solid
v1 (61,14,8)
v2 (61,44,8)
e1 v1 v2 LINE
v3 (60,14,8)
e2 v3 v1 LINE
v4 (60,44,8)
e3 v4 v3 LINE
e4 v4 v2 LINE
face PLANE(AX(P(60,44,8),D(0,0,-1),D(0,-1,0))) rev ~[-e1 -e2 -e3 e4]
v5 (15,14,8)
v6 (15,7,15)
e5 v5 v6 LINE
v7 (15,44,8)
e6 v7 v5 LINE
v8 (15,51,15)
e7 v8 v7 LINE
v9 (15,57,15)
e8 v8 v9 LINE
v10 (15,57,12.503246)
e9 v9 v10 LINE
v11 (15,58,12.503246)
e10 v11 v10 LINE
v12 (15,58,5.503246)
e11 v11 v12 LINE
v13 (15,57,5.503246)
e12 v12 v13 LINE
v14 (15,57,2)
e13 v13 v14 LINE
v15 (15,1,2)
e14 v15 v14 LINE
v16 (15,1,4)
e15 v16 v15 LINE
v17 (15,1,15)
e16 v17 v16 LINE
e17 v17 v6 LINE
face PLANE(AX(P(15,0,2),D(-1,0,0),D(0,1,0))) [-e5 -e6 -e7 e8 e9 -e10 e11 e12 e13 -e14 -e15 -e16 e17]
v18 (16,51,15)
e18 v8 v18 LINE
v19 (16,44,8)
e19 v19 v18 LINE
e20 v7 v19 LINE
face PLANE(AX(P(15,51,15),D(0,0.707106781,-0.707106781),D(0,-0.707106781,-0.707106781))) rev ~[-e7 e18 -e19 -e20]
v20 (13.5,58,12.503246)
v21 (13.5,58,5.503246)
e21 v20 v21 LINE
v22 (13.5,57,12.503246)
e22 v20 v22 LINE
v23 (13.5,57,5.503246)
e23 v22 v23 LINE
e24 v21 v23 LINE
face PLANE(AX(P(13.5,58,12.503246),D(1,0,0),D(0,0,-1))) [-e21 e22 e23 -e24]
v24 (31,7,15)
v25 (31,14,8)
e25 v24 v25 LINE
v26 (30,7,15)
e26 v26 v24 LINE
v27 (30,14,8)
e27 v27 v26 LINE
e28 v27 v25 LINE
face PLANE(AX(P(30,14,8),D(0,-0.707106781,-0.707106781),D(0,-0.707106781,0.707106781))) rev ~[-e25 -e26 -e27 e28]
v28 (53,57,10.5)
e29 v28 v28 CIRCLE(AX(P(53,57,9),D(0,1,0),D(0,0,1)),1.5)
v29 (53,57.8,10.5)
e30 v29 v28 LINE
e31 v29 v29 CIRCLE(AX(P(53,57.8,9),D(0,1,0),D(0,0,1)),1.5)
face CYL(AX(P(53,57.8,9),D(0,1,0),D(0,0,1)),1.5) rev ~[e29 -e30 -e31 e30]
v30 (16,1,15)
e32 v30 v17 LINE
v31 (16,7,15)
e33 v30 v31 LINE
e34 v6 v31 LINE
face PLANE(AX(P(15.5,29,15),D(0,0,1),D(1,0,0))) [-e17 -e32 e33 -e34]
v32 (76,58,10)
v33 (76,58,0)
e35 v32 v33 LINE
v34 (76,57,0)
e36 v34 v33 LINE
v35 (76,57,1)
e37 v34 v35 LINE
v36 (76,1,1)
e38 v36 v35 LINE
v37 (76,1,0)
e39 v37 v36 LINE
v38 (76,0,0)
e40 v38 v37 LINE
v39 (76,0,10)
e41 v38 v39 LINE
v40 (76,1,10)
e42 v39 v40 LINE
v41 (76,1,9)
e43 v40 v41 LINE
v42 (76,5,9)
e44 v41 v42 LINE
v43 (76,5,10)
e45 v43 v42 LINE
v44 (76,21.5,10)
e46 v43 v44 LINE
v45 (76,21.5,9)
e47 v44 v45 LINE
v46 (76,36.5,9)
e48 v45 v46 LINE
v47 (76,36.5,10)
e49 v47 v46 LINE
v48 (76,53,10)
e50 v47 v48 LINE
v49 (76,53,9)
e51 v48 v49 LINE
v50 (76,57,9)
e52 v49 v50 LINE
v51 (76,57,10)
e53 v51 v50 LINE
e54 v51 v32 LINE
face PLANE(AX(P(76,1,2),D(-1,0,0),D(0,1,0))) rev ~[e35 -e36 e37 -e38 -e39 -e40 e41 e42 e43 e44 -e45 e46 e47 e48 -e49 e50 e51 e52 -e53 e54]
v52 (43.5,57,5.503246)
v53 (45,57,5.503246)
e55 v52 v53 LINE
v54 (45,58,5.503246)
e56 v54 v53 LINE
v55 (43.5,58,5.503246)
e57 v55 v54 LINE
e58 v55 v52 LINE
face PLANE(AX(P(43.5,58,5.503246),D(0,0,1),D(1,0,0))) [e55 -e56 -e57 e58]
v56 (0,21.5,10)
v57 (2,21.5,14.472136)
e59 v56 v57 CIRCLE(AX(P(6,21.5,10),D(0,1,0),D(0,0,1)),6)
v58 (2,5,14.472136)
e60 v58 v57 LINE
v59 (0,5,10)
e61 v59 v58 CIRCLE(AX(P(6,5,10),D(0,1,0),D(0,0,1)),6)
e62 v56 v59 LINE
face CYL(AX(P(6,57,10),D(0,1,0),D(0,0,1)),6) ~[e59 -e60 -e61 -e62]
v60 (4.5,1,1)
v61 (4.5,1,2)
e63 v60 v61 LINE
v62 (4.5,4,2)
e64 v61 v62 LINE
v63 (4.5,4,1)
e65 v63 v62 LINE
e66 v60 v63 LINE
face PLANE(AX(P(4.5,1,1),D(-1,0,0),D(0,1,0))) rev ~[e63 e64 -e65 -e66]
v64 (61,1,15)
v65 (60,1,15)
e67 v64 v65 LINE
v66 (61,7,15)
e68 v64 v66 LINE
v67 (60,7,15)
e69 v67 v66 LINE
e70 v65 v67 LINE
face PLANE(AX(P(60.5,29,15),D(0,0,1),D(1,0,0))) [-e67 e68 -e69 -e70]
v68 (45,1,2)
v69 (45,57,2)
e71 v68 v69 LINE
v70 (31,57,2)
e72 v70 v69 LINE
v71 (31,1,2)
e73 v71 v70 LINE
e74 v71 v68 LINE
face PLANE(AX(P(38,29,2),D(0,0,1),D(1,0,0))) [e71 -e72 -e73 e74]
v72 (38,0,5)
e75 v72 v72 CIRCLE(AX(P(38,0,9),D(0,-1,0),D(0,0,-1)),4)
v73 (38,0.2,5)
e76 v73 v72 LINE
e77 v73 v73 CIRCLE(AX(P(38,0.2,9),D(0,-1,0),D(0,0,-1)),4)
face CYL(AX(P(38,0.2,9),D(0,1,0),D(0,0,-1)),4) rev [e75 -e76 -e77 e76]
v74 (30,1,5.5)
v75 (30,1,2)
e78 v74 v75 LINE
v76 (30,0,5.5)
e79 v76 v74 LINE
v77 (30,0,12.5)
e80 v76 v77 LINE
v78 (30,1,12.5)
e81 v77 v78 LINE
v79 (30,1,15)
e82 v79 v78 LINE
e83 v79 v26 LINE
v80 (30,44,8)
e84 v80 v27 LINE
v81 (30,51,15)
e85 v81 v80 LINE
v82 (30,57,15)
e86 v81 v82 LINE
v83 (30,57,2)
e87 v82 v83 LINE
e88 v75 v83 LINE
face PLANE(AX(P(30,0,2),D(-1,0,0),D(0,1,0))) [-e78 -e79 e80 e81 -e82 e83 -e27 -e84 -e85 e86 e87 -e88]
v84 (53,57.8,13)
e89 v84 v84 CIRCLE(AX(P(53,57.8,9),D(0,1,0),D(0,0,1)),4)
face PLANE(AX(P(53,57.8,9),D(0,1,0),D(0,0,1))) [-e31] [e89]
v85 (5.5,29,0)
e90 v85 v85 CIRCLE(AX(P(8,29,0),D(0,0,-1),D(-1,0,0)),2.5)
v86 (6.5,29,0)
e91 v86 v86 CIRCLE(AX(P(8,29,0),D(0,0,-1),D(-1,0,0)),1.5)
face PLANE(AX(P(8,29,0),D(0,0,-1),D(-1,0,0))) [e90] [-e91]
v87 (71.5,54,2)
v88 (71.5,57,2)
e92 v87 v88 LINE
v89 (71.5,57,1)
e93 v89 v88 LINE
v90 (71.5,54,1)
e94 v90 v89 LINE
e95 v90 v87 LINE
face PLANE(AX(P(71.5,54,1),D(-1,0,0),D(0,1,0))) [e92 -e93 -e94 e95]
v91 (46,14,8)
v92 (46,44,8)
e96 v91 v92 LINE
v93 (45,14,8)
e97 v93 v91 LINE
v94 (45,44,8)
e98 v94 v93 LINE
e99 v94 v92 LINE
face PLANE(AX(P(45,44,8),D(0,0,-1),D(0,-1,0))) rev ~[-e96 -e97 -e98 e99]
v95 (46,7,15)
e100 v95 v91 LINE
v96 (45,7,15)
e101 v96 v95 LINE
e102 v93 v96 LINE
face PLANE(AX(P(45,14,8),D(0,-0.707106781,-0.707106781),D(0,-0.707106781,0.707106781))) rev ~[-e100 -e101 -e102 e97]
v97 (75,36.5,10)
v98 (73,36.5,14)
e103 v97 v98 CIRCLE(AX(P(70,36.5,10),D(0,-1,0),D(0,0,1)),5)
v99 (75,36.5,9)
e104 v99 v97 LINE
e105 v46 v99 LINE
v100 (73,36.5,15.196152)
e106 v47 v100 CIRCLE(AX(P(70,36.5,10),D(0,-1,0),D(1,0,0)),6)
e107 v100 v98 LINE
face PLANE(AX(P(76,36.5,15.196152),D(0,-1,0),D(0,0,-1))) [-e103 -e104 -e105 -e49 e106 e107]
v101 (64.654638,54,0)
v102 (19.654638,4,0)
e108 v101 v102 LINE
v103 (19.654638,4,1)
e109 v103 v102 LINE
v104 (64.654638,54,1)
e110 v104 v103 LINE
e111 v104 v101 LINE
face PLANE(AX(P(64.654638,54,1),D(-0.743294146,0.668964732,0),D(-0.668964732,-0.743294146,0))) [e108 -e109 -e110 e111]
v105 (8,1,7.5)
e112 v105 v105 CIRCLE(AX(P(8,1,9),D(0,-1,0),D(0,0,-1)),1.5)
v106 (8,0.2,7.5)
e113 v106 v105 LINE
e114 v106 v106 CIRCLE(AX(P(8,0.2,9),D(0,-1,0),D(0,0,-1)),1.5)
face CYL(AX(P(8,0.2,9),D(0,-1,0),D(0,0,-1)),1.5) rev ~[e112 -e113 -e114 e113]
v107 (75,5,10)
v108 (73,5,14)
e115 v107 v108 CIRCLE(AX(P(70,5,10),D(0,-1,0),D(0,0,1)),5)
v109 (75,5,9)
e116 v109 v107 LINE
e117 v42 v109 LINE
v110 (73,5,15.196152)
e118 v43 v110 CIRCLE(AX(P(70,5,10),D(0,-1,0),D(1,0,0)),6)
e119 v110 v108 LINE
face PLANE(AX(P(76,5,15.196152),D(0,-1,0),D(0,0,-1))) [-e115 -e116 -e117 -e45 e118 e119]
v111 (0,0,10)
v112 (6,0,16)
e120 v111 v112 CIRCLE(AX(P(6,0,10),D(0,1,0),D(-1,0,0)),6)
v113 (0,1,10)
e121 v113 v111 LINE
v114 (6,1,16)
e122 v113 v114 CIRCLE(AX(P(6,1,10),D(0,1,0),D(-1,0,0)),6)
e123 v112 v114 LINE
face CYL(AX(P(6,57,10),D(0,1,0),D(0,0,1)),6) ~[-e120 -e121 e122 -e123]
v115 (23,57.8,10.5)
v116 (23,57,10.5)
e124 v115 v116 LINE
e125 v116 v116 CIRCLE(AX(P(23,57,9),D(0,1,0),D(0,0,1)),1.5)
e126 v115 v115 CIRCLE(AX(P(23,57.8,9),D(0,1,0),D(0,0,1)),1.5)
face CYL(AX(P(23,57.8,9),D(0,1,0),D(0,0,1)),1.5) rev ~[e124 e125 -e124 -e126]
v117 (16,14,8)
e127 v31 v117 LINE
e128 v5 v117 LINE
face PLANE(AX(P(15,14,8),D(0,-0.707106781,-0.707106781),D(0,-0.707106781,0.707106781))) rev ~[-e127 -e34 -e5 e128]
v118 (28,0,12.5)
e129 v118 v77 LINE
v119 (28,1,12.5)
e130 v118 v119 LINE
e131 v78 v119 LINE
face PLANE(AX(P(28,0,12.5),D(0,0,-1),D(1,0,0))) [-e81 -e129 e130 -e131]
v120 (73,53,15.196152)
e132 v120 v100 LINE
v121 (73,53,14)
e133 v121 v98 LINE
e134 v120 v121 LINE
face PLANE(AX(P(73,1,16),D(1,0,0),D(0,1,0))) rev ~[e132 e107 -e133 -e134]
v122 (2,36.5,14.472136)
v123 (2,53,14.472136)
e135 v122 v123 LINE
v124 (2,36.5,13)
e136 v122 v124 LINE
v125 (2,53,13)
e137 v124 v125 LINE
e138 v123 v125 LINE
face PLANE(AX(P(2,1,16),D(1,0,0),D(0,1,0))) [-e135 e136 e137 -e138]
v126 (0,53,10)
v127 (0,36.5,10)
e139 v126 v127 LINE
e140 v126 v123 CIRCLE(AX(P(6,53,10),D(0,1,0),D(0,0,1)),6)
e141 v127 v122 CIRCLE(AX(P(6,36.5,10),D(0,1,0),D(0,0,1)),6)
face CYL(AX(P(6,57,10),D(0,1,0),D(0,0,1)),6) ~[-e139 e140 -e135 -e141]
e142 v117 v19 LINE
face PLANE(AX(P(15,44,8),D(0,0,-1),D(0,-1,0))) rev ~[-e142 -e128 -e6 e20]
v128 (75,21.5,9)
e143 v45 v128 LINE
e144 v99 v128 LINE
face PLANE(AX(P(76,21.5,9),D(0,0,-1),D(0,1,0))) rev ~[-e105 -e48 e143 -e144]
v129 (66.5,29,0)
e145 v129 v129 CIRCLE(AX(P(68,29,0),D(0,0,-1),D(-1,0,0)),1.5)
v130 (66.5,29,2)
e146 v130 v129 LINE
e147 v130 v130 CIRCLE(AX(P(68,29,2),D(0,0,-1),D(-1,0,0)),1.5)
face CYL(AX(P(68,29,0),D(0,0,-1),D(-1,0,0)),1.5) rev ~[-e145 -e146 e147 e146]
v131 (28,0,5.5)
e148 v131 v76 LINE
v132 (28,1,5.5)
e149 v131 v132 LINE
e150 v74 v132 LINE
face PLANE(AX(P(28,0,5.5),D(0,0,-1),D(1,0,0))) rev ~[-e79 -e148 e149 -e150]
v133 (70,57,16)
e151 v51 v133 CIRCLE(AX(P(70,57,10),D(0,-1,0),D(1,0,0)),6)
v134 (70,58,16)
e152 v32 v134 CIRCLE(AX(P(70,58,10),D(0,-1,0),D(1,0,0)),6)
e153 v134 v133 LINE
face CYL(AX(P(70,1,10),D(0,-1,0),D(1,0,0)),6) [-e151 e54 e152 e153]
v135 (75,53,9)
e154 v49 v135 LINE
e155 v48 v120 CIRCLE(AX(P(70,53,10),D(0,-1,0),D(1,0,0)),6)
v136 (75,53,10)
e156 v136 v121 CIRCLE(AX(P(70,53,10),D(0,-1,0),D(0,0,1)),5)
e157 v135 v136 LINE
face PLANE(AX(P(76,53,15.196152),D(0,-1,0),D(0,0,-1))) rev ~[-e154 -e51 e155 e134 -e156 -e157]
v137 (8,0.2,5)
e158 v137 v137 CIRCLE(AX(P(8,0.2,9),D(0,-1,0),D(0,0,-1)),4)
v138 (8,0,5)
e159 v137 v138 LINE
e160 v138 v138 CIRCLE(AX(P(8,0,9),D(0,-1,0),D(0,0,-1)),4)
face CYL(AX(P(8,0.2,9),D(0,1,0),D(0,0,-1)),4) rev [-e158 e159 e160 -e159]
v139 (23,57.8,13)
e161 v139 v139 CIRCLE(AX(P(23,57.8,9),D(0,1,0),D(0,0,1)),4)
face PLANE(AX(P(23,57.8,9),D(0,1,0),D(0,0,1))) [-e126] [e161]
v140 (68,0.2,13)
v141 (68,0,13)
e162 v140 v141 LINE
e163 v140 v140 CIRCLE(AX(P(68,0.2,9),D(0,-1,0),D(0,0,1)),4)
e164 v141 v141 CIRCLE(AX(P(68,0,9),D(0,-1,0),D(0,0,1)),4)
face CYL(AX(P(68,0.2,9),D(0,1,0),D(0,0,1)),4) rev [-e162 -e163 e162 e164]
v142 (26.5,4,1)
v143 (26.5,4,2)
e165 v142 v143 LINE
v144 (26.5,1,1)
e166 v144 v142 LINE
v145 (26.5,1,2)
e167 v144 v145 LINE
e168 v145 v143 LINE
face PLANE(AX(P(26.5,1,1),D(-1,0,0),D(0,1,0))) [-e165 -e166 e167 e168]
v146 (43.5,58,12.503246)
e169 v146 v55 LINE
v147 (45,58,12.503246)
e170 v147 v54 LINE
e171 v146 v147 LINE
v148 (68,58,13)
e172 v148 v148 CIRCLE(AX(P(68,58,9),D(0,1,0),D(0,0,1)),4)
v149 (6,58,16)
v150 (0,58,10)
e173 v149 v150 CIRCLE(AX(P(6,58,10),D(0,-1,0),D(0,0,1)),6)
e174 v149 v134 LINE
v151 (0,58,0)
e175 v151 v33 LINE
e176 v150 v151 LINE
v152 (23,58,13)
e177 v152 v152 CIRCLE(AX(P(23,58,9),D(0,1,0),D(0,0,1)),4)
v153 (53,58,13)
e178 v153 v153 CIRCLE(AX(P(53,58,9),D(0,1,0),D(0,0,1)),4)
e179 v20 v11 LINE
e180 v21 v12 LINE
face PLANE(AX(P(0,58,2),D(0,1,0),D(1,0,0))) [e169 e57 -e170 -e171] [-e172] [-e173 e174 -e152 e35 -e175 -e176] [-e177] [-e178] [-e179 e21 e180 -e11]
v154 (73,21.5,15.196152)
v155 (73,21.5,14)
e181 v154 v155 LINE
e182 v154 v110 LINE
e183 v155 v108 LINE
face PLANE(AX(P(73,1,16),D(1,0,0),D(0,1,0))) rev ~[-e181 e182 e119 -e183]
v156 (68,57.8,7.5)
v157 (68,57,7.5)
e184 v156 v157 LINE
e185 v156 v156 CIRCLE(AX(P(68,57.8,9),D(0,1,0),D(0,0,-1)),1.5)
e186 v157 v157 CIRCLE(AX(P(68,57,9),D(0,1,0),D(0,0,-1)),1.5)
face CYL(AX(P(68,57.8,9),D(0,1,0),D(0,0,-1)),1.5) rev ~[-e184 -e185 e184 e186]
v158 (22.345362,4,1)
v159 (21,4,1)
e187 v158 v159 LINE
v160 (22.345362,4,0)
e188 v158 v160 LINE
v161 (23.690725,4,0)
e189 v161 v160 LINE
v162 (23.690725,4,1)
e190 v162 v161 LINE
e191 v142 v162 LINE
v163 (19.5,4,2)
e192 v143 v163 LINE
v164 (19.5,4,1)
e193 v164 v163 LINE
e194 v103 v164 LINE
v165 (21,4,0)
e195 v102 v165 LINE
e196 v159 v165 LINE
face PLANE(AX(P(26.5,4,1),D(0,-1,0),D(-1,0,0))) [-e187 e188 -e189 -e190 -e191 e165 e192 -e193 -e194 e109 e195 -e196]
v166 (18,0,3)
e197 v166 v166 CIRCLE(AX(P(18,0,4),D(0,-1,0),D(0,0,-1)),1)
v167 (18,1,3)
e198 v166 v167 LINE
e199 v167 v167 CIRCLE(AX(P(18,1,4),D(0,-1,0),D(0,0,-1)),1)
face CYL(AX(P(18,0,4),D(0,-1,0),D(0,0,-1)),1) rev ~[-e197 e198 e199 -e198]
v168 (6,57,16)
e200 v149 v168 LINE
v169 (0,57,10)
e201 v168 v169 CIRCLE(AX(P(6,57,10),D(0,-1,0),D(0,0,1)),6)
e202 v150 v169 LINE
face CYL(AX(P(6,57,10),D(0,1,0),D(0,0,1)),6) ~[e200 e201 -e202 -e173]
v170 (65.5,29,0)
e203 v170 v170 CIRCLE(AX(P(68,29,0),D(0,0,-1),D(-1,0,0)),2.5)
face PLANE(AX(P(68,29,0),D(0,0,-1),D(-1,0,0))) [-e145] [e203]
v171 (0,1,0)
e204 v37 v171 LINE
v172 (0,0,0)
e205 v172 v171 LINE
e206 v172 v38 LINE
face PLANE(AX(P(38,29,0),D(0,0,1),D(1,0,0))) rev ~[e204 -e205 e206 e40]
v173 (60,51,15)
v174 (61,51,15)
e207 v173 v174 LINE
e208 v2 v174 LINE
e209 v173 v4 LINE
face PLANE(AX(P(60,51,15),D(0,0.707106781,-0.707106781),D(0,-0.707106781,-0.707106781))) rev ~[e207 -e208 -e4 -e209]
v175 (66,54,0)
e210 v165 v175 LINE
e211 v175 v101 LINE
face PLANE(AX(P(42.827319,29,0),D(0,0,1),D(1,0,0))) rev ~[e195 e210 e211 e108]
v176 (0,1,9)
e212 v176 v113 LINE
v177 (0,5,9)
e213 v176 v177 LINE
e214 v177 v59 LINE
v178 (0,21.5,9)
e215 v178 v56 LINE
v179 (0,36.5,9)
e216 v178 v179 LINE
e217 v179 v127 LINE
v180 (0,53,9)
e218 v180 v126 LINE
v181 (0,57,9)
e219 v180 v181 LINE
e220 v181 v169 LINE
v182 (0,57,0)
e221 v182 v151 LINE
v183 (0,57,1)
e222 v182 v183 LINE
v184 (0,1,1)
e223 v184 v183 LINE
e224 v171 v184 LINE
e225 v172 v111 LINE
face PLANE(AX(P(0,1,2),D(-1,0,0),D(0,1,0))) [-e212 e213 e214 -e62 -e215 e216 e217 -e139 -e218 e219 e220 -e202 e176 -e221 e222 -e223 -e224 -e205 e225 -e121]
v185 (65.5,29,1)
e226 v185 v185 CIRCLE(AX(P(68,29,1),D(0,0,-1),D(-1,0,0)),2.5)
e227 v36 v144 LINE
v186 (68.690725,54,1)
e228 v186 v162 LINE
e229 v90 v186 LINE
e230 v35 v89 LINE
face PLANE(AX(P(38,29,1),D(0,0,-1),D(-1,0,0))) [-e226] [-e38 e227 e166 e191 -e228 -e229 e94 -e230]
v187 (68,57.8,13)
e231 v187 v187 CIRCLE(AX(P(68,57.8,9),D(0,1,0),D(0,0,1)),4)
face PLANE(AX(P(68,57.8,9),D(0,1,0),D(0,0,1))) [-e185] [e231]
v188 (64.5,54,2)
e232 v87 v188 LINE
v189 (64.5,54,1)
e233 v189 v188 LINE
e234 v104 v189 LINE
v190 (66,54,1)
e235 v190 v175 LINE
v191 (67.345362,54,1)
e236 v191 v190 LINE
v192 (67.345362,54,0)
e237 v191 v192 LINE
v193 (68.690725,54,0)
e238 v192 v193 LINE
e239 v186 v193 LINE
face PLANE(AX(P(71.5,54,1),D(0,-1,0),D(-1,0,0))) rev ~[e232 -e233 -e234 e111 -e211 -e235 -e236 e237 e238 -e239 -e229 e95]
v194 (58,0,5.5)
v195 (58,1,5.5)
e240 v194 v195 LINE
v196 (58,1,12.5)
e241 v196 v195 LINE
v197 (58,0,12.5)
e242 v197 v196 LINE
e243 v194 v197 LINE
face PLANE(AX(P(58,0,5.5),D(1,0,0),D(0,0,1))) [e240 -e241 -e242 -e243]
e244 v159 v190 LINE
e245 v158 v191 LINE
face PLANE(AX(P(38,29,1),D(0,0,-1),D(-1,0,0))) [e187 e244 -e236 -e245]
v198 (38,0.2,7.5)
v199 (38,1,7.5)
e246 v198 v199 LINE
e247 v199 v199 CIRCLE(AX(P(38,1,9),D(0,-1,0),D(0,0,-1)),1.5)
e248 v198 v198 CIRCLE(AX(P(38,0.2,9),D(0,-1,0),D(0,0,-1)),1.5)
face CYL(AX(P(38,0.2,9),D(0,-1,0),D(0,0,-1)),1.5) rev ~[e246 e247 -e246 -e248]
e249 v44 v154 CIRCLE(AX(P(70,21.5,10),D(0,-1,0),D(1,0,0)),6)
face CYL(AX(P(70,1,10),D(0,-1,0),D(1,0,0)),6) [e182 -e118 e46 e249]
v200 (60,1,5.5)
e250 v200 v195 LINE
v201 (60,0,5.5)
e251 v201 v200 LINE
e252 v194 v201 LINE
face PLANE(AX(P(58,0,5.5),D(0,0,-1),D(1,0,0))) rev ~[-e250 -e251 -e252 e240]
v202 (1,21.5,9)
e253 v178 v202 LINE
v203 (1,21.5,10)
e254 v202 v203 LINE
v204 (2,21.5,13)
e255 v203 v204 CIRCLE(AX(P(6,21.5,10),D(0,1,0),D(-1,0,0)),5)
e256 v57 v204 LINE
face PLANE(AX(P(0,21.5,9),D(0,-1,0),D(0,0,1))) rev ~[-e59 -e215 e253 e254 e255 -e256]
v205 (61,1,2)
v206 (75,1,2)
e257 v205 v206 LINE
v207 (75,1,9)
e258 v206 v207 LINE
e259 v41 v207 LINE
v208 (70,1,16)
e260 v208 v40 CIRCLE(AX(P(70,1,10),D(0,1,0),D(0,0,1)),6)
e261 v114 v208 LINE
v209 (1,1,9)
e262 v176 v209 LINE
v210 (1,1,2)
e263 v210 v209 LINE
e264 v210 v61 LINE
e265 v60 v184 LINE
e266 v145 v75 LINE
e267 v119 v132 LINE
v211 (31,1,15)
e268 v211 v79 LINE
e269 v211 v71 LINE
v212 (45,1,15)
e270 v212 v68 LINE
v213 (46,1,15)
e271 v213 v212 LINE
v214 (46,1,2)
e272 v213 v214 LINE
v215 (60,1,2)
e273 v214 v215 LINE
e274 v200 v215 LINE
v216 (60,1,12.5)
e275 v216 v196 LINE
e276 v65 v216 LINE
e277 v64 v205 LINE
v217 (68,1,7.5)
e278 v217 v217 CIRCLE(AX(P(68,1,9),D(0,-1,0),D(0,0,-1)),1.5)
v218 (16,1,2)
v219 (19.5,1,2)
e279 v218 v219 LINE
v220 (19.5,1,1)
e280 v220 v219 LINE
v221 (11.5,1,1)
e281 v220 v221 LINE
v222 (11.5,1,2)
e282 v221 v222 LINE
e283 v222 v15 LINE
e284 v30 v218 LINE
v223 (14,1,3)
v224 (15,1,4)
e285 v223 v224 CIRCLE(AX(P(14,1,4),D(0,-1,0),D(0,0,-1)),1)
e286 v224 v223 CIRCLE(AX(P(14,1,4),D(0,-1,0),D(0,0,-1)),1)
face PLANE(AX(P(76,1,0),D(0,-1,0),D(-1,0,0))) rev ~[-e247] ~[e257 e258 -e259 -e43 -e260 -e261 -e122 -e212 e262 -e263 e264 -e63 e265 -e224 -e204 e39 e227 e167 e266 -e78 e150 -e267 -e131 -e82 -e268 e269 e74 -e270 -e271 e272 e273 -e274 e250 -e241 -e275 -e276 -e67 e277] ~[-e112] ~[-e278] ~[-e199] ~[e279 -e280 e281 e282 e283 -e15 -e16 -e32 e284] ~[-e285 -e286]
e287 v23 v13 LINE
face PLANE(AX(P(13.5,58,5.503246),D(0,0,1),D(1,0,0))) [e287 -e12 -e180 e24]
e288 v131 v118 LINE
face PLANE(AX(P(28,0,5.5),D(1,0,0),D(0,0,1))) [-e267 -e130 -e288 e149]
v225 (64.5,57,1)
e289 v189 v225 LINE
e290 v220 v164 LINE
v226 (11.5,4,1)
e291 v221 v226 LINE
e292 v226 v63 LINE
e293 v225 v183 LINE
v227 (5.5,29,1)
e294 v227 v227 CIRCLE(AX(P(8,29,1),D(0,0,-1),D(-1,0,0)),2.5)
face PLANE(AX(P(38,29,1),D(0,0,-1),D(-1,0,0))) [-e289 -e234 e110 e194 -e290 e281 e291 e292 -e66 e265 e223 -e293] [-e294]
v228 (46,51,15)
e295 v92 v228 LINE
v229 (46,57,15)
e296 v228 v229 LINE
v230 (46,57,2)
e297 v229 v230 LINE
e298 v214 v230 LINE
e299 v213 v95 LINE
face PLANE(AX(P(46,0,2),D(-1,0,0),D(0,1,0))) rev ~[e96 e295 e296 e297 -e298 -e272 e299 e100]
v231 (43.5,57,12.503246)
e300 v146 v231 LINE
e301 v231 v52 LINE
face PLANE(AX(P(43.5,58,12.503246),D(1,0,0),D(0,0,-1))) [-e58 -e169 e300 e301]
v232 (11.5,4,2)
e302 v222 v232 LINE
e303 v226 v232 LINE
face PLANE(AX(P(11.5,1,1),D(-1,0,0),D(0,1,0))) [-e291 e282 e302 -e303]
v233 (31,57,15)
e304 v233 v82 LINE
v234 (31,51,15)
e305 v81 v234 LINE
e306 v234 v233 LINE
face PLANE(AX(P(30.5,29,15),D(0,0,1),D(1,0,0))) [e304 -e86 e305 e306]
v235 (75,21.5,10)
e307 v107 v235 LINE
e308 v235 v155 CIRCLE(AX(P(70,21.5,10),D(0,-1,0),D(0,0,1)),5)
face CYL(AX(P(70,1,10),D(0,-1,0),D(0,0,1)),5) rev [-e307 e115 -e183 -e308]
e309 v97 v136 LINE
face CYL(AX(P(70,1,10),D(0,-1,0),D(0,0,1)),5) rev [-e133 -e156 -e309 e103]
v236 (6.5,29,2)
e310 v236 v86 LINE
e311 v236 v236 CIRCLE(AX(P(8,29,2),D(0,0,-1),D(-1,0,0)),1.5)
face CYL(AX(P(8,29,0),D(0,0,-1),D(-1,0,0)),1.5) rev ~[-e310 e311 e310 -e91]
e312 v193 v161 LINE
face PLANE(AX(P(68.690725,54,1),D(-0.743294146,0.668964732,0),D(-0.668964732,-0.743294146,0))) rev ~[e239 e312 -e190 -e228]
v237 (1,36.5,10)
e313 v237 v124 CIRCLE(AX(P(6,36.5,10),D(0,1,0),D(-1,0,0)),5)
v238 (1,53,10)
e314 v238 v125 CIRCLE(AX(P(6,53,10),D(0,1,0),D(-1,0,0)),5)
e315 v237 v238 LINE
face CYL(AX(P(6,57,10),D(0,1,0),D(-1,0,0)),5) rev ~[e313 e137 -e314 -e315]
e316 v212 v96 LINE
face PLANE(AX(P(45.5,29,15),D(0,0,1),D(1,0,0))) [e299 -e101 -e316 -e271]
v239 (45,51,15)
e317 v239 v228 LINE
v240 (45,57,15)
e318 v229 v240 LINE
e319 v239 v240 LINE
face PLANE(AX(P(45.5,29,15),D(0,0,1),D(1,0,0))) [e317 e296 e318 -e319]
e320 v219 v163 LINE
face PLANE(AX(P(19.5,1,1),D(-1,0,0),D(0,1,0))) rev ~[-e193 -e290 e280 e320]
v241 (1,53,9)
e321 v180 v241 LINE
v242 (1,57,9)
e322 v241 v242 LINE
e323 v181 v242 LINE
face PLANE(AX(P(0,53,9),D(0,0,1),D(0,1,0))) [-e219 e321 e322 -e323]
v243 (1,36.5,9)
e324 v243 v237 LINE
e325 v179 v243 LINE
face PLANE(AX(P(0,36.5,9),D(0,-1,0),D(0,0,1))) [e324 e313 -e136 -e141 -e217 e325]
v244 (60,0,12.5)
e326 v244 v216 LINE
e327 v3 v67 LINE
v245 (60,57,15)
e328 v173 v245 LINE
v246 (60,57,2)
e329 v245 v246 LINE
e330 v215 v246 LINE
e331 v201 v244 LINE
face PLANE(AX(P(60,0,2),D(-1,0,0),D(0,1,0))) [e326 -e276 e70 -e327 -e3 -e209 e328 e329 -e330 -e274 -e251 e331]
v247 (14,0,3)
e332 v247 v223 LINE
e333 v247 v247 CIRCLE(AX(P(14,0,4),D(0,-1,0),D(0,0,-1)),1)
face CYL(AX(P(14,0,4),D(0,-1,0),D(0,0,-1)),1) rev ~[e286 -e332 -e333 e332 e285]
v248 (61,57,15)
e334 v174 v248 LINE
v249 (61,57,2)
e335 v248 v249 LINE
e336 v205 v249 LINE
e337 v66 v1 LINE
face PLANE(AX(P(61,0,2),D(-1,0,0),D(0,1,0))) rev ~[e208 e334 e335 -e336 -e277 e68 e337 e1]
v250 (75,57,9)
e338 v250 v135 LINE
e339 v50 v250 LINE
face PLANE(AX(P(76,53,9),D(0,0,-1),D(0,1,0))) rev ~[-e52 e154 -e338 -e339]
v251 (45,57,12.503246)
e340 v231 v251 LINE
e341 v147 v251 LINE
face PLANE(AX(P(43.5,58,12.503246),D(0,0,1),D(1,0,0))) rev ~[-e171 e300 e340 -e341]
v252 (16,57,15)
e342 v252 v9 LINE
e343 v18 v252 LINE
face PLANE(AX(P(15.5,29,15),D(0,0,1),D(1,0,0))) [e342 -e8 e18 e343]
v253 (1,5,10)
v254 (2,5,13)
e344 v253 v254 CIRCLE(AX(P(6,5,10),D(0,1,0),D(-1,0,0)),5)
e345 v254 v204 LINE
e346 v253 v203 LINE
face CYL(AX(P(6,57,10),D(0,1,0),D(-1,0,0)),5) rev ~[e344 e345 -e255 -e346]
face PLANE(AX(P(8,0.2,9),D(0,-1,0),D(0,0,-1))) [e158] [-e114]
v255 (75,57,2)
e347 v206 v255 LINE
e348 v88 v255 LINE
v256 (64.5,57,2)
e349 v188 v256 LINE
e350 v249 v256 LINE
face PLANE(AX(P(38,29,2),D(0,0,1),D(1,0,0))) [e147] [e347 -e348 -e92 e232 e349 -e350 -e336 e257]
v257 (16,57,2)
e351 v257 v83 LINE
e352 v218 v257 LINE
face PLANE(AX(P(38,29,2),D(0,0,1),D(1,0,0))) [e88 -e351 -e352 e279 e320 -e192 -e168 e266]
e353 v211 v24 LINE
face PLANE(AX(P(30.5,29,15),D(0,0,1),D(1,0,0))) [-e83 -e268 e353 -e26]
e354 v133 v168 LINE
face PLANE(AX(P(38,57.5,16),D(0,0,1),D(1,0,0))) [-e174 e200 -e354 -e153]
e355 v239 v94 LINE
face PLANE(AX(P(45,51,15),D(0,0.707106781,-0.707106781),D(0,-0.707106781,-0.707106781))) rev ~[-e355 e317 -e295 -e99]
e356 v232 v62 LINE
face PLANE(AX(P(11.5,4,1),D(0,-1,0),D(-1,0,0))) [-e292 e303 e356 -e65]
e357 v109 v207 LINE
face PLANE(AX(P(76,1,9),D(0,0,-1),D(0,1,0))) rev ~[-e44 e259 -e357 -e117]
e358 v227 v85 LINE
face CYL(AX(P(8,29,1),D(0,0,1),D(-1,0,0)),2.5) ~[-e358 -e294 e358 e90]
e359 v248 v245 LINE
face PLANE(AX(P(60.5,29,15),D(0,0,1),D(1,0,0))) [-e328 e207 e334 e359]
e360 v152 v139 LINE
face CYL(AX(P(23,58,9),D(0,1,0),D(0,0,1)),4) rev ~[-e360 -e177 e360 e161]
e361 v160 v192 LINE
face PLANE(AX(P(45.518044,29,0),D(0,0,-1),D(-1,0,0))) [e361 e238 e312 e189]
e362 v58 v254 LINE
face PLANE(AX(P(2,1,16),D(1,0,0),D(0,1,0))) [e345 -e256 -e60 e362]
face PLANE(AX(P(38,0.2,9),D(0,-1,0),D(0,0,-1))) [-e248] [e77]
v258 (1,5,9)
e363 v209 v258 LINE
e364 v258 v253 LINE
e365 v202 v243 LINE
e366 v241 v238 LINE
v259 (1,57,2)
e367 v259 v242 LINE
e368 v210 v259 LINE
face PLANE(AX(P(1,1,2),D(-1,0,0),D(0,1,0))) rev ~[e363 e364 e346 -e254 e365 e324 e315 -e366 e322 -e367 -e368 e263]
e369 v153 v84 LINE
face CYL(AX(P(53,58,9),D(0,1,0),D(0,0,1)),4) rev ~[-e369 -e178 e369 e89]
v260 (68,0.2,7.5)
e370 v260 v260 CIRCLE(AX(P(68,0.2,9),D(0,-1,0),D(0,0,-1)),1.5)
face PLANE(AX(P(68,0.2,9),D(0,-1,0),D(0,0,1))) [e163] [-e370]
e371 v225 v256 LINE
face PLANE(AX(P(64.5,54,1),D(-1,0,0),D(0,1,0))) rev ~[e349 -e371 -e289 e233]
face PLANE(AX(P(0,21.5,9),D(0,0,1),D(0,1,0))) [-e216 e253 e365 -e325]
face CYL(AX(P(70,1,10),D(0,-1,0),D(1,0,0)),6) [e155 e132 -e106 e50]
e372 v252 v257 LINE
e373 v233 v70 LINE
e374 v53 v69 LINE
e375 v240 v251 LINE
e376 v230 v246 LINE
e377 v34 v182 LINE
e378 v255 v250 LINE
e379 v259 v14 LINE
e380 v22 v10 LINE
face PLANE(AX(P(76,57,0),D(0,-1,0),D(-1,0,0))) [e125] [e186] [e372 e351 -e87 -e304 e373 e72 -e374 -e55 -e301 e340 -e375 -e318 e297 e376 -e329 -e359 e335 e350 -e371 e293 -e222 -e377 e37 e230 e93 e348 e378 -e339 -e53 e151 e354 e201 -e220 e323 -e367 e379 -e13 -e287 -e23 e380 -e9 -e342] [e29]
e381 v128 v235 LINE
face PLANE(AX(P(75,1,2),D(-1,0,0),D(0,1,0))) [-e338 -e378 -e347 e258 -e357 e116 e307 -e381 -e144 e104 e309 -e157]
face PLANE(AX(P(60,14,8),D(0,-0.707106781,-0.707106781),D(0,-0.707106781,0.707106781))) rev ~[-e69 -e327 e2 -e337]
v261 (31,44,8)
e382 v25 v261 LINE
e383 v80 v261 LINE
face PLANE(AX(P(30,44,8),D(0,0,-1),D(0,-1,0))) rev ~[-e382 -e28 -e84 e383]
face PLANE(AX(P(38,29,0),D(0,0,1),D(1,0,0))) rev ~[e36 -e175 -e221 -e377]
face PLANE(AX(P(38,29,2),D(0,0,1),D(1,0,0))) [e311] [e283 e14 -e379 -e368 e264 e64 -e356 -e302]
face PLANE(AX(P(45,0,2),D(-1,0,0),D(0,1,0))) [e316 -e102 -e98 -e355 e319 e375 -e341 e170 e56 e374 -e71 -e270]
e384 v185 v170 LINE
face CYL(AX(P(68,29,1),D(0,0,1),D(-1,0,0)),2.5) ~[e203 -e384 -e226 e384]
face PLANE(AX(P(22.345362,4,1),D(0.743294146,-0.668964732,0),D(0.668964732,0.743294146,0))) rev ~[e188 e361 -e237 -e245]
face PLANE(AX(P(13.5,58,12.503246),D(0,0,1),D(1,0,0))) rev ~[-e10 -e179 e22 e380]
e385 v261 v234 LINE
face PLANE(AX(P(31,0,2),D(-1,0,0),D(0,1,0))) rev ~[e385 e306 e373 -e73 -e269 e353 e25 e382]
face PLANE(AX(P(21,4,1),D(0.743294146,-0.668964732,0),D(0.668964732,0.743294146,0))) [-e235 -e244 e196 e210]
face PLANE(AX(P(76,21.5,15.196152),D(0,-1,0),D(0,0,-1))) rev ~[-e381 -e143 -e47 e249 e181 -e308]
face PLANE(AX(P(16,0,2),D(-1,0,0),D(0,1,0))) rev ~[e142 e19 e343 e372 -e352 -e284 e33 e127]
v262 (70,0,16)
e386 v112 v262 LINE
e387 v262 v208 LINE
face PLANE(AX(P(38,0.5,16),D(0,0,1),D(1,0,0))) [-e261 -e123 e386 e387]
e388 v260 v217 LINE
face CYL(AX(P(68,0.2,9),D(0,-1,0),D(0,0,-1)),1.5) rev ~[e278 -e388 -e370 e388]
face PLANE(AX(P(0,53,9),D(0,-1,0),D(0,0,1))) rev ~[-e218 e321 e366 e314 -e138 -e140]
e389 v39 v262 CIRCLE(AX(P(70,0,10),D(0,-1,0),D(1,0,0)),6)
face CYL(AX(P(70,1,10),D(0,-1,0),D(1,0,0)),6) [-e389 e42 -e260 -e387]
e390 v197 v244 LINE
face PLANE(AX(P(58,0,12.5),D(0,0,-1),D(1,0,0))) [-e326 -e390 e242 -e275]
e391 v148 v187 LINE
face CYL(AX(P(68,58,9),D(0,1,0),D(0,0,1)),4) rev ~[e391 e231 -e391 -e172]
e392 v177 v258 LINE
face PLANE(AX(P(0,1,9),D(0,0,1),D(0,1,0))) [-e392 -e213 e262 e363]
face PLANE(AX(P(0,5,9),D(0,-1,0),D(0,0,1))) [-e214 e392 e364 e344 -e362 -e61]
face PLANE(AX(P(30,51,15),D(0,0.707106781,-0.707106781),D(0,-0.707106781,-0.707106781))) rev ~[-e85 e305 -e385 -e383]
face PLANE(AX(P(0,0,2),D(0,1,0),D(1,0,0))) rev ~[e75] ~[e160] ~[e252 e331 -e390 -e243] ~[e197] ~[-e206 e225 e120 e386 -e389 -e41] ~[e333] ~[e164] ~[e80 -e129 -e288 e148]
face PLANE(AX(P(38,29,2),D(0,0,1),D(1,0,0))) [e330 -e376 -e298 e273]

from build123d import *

# Parameters (mm, degrees)
ESQUISSE1_W              = 76
ESQUISSE1_H              = 58
BOSS_EXTRU_1_DEPTH       = 2
ESQUISSE3_W              = 1
ESQUISSE3_H              = 58
BOSS_EXTRU_2_DEPTH       = 13
ENL_V_MAT_EXTRU_2_REACH  = 87.499
ESQUISSE5_W              = 1
ESQUISSE5_H              = 58
BOSS_EXTRU_3_DEPTH       = 13
ENL_V_MAT_EXTRU_3_REACH  = 77.531
ESQUISSE7_W              = 1
ESQUISSE7_H              = 58
BOSS_EXTRU_4_DEPTH       = 13
ENL_V_MAT_EXTRU_4_REACH  = 76.927
ESQUISSE9_W              = 1
ESQUISSE9_H              = 58
BOSS_EXTRU_5_DEPTH       = 13
ENL_V_MAT_EXTRU_5_REACH  = 86.788
ESQUISSE11_W             = 76
ESQUISSE11_H             = 1
BOSS_EXTRU_6_DEPTH       = 14
ESQUISSE12_W             = 76
ESQUISSE12_H             = 1
BOSS_EXTRU_7_DEPTH       = 14
ENL_V_MAT_EXTRU_6_REACH  = 98.933
ENL_V_MAT_EXTRU_7_REACH  = 98.933
ENL_V_MAT_EXTRU_8_REACH  = 98.933
ENL_V_MAT_EXTRU_9_REACH  = 98.933
ESQUISSE18_W             = 76
ESQUISSE18_H             = 56
ENL_V_MAT_EXTRU_10_DEPTH = 1
ESQUISSE19_W             = 1
ESQUISSE19_H             = 56
BOSS_EXTRU_8_DEPTH       = 8
ESQUISSE20_W             = 1
ESQUISSE20_H             = 56
BOSS_EXTRU_9_DEPTH       = 8
BOSS_EXTRU_10_REACH      = 98.338
BOSS_EXTRU_11_REACH      = 98.338
ESQUISSE23_W             = 4
ESQUISSE23_H             = 56
ENL_V_MAT_EXTRU_11_DEPTH = 5
ESQUISSE24_W             = 4
ESQUISSE24_H             = 56
ENL_V_MAT_EXTRU_12_DEPTH = 5
ESQUISSE25_W             = 5.472135955
ESQUISSE25_H             = 4
ESQUISSE25_H_2           = 15
ENL_V_MAT_EXTRU_13_DEPTH = 5
ESQUISSE26_W             = 6.196152423
ESQUISSE26_H             = 4
ESQUISSE26_H_2           = 15
ENL_V_MAT_EXTRU_14_DEPTH = 5
ENL_V_MAT_EXTRU_15_REACH = 98.773
ESQUISSE27_R             = 1.5
ESQUISSE28_R             = 2.5
BOSS_EXTRU_12_DEPTH      = 1
ENL_V_MAT_EXTRU_16_REACH = 98.933
ESQUISSE29_R             = 1.5
ENL_V_MAT_EXTRU_17_REACH = 98.773
ESQUISSE30_W             = 7
ESQUISSE30_H             = 3
BOSS_EXTRU_13_DEPTH      = 1
ENL_V_MAT_EXTRU_18_REACH = 98.933
ESQUISSE32_R             = 1
ESQUISSE33_R             = 4
ENL_V_MAT_EXTRU_19_DEPTH = 0.2
ENL_V_START              = -0.2
ESQUISSE34_R             = 4
ENL_V_MAT_EXTRU_20_DEPTH = 0.2
ENL_V_MAT_EXTRU_21_REACH = 98.813
ESQUISSE35_R             = 1.5
ENL_V_MAT_EXTRU_22_REACH = 98.813
ESQUISSE36_R             = 1.5
ENL_V_MAT_EXTRU_23_REACH = 98.933
ESQUISSE37_W             = 2
ESQUISSE37_H             = 7
ENL_V_MAT_EXTRU_24_REACH = 98.933
ESQUISSE38_W             = 1.5
ESQUISSE38_H             = 7


with BuildPart() as part:
    # Esquisse1 → Boss.-Extru.1 (new body)
    with BuildSketch(Plane.XY):
        with Locations((38, 29)):
            Rectangle(ESQUISSE1_W, ESQUISSE1_H)
    extrude(amount=BOSS_EXTRU_1_DEPTH)

    # Esquisse3 → Boss.-Extru.2 (add)
    with BuildSketch(Plane.XY.offset(2)):
        with Locations((15.5, 29)):
            Rectangle(ESQUISSE3_W, ESQUISSE3_H)
    extrude(amount=BOSS_EXTRU_2_DEPTH)

    # Esquisse4 → Enlèv. mat.-Extru.2 (cut, up to next)
    with BuildSketch(Plane.ZY.offset(-15), mode=Mode.PRIVATE) as enl_v_mat_extru_2_sk1:
        Polygon((15, 51), (8, 44), (8, 14), (15, 7), align=None)
    enl_v_mat_extru_2_tool1 = extrude(enl_v_mat_extru_2_sk1.sketch, amount=-ENL_V_MAT_EXTRU_2_REACH, mode=Mode.PRIVATE) & part.part
    add(enl_v_mat_extru_2_tool1.solids().sort_by_distance((15, 29, 11.720721))[0], mode=Mode.SUBTRACT)

    # Esquisse5 → Boss.-Extru.3 (add)
    with BuildSketch(Plane.XY.offset(2)):
        with Locations((30.5, 29)):
            Rectangle(ESQUISSE5_W, ESQUISSE5_H)
    extrude(amount=BOSS_EXTRU_3_DEPTH)

    # Esquisse6 → Enlèv. mat.-Extru.3 (cut, up to next)
    with BuildSketch(Plane.ZY.offset(-30), mode=Mode.PRIVATE) as enl_v_mat_extru_3_sk1:
        Polygon((15, 51), (8, 44), (8, 14), (15, 7), align=None)
    enl_v_mat_extru_3_tool1 = extrude(enl_v_mat_extru_3_sk1.sketch, amount=-ENL_V_MAT_EXTRU_3_REACH, mode=Mode.PRIVATE) & part.part
    add(enl_v_mat_extru_3_tool1.solids().sort_by_distance((30, 29, 11.720721))[0], mode=Mode.SUBTRACT)

    # Esquisse7 → Boss.-Extru.4 (add)
    with BuildSketch(Plane.XY.offset(2)):
        with Locations((45.5, 29)):
            Rectangle(ESQUISSE7_W, ESQUISSE7_H)
    extrude(amount=BOSS_EXTRU_4_DEPTH)

    # Esquisse8 → Enlèv. mat.-Extru.4 (cut, up to next)
    with BuildSketch(Plane.ZY.offset(-45), mode=Mode.PRIVATE) as enl_v_mat_extru_4_sk1:
        Polygon((15, 51), (8, 44), (8, 14), (15, 7), align=None)
    enl_v_mat_extru_4_tool1 = extrude(enl_v_mat_extru_4_sk1.sketch, amount=-ENL_V_MAT_EXTRU_4_REACH, mode=Mode.PRIVATE) & part.part
    add(enl_v_mat_extru_4_tool1.solids().sort_by_distance((45, 29, 11.720721))[0], mode=Mode.SUBTRACT)

    # Esquisse9 → Boss.-Extru.5 (add)
    with BuildSketch(Plane.XY.offset(2)):
        with Locations((60.5, 29)):
            Rectangle(ESQUISSE9_W, ESQUISSE9_H)
    extrude(amount=BOSS_EXTRU_5_DEPTH)

    # Esquisse10 → Enlèv. mat.-Extru.5 (cut, up to next)
    with BuildSketch(Plane.ZY.offset(-60), mode=Mode.PRIVATE) as enl_v_mat_extru_5_sk1:
        Polygon((15, 51), (8, 44), (8, 14), (15, 7), align=None)
    enl_v_mat_extru_5_tool1 = extrude(enl_v_mat_extru_5_sk1.sketch, amount=-ENL_V_MAT_EXTRU_5_REACH, mode=Mode.PRIVATE) & part.part
    add(enl_v_mat_extru_5_tool1.solids().sort_by_distance((60, 29, 11.720721))[0], mode=Mode.SUBTRACT)

    # Esquisse11 → Boss.-Extru.6 (add)
    with BuildSketch(Plane.XY.offset(2)):
        with Locations((38, 0.5)):
            Rectangle(ESQUISSE11_W, ESQUISSE11_H)
    extrude(amount=BOSS_EXTRU_6_DEPTH)

    # Esquisse12 → Boss.-Extru.7 (add)
    with BuildSketch(Plane.XY.offset(2)):
        with Locations((38, 57.5)):
            Rectangle(ESQUISSE12_W, ESQUISSE12_H)
    extrude(amount=BOSS_EXTRU_7_DEPTH)

    # Esquisse13 → Enlèv. mat.-Extru.6 (cut, up to next)
    with BuildSketch(Plane.XZ, mode=Mode.PRIVATE) as enl_v_mat_extru_6_sk1:
        with BuildLine():
            Line((70, 16), (76, 16))
            Line((76, 16), (76, 10))
            ThreePointArc((76, 10), (74.242640687, 14.242640687), (70, 16))
        make_face()
    enl_v_mat_extru_6_tool1 = extrude(enl_v_mat_extru_6_sk1.sketch, amount=-ENL_V_MAT_EXTRU_6_REACH, mode=Mode.PRIVATE) & part.part
    add(enl_v_mat_extru_6_tool1.solids().sort_by_distance((74.659792, 0, 14.659792))[0], mode=Mode.SUBTRACT)

    # Esquisse14 → Enlèv. mat.-Extru.7 (cut, up to next)
    with BuildSketch(Plane.XZ, mode=Mode.PRIVATE) as enl_v_mat_extru_7_sk1:
        with BuildLine():
            Line((6, 16), (0, 16))
            Line((0, 16), (0, 10))
            ThreePointArc((0, 10), (1.757359313, 14.242640687), (6, 16))
        make_face()
    enl_v_mat_extru_7_tool1 = extrude(enl_v_mat_extru_7_sk1.sketch, amount=-ENL_V_MAT_EXTRU_7_REACH, mode=Mode.PRIVATE) & part.part
    add(enl_v_mat_extru_7_tool1.solids().sort_by_distance((1.340208, 0, 14.659792))[0], mode=Mode.SUBTRACT)

    # Esquisse15 → Enlèv. mat.-Extru.8 (cut, up to next)
    with BuildSketch(Plane(origin=(0, 58, 0), x_dir=(1, 0, 0), z_dir=(0, 1, 0)), mode=Mode.PRIVATE) as enl_v_mat_extru_8_sk1:
        with BuildLine():
            Line((0, -10), (0, -16))
            Line((0, -16), (6, -16))
            ThreePointArc((6, -16), (1.757359313, -14.242640687), (0, -10))
        make_face()
    enl_v_mat_extru_8_tool1 = extrude(enl_v_mat_extru_8_sk1.sketch, amount=-ENL_V_MAT_EXTRU_8_REACH, mode=Mode.PRIVATE) & part.part
    add(enl_v_mat_extru_8_tool1.solids().sort_by_distance((1.340208, 58, 14.659792))[0], mode=Mode.SUBTRACT)

    # Esquisse17 → Enlèv. mat.-Extru.9 (cut, up to next)
    with BuildSketch(Plane(origin=(0, 58, 0), x_dir=(1, 0, 0), z_dir=(0, 1, 0)), mode=Mode.PRIVATE) as enl_v_mat_extru_9_sk1:
        with BuildLine():
            Line((70, -16), (76, -16))
            Line((76, -16), (76, -10))
            ThreePointArc((76, -10), (74.242640687, -14.242640687), (70, -16))
        make_face()
    enl_v_mat_extru_9_tool1 = extrude(enl_v_mat_extru_9_sk1.sketch, amount=-ENL_V_MAT_EXTRU_9_REACH, mode=Mode.PRIVATE) & part.part
    add(enl_v_mat_extru_9_tool1.solids().sort_by_distance((74.659792, 58, 14.659792))[0], mode=Mode.SUBTRACT)

    # Esquisse18 → Enlèv. mat.-Extru.10 (cut)
    with BuildSketch(Plane(origin=(0, 0, 0), x_dir=(-1, 0, 0), z_dir=(0, 0, -1))):
        with Locations((-38, 29)):
            Rectangle(ESQUISSE18_W, ESQUISSE18_H)
    extrude(amount=-ENL_V_MAT_EXTRU_10_DEPTH, mode=Mode.SUBTRACT)

    # Esquisse19 → Boss.-Extru.8 (add)
    with BuildSketch(Plane.XY.offset(2)):
        with Locations((75.5, 29)):
            Rectangle(ESQUISSE19_W, ESQUISSE19_H)
    extrude(amount=BOSS_EXTRU_8_DEPTH)

    # Esquisse20 → Boss.-Extru.9 (add)
    with BuildSketch(Plane.XY.offset(2)):
        with Locations((0.5, 29)):
            Rectangle(ESQUISSE20_W, ESQUISSE20_H)
    extrude(amount=BOSS_EXTRU_9_DEPTH)

    # Esquisse21 → Boss.-Extru.10 (add, up to next)
    with BuildSketch(Plane.XZ.offset(-57), mode=Mode.PRIVATE) as boss_extru_10_sk1:
        with BuildLine():
            Line((6, 15), (6, 16))
            ThreePointArc((6, 16), (1.757359313, 14.242640687), (0, 10))
            Line((0, 10), (1, 10))
            ThreePointArc((1, 10), (2.464466094, 13.535533906), (6, 15))
        make_face()
    boss_extru_10_tool1 = extrude(boss_extru_10_sk1.sketch, amount=BOSS_EXTRU_10_REACH, mode=Mode.PRIVATE) - part.part
    add(boss_extru_10_tool1.solids().sort_by_distance((0.5, 57, 10.084853))[0])

    # Esquisse22 → Boss.-Extru.11 (add, up to next)
    with BuildSketch(Plane(origin=(0, 1, 0), x_dir=(1, 0, 0), z_dir=(0, 1, 0)), mode=Mode.PRIVATE) as boss_extru_11_sk1:
        with BuildLine():
            Line((70, -16), (70, -15))
            ThreePointArc((70, -15), (73.535533906, -13.535533906), (75, -10))
            Line((75, -10), (76, -10))
            ThreePointArc((76, -10), (74.242640687, -14.242640687), (70, -16))
        make_face()
    boss_extru_11_tool1 = extrude(boss_extru_11_sk1.sketch, amount=BOSS_EXTRU_11_REACH, mode=Mode.PRIVATE) - part.part
    add(boss_extru_11_tool1.solids().sort_by_distance((74.182641, 1, 14.182641))[0])

    # Esquisse23 → Enlèv. mat.-Extru.11 (cut)
    with BuildSketch(Plane.XY.offset(16)):
        with Locations((71, 29)):
            Rectangle(ESQUISSE23_W, ESQUISSE23_H)
    extrude(amount=-ENL_V_MAT_EXTRU_11_DEPTH, mode=Mode.SUBTRACT)

    # Esquisse24 → Enlèv. mat.-Extru.12 (cut)
    with BuildSketch(Plane.XY.offset(16)):
        with Locations((4, 29)):
            Rectangle(ESQUISSE24_W, ESQUISSE24_H)
    extrude(amount=-ENL_V_MAT_EXTRU_12_DEPTH, mode=Mode.SUBTRACT)

    # Esquisse25 → Enlèv. mat.-Extru.13 (cut)
    with BuildSketch(Plane.ZY):
        with Locations((11.736067977, 55)):
            Rectangle(ESQUISSE25_W, ESQUISSE25_H)
        with Locations((11.736067977, 29)):
            Rectangle(ESQUISSE25_W, ESQUISSE25_H_2)
        with Locations((11.736067977, 3)):
            Rectangle(ESQUISSE25_W, ESQUISSE25_H)
    extrude(amount=-ENL_V_MAT_EXTRU_13_DEPTH, mode=Mode.SUBTRACT)

    # Esquisse26 → Enlèv. mat.-Extru.14 (cut)
    with BuildSketch(Plane(origin=(76, 0, 0), x_dir=(0, 0, -1), z_dir=(1, 0, 0))):
        with Locations((-12.098076212, 55)):
            Rectangle(ESQUISSE26_W, ESQUISSE26_H)
        with Locations((-12.098076212, 29)):
            Rectangle(ESQUISSE26_W, ESQUISSE26_H_2)
        with Locations((-12.098076212, 3)):
            Rectangle(ESQUISSE26_W, ESQUISSE26_H)
    extrude(amount=-ENL_V_MAT_EXTRU_14_DEPTH, mode=Mode.SUBTRACT)

    # Esquisse27 → Enlèv. mat.-Extru.15 (cut, up to next)
    with BuildSketch(Plane(origin=(0, 0, 1), x_dir=(-1, 0, 0), z_dir=(0, 0, -1)), mode=Mode.PRIVATE) as enl_v_mat_extru_15_sk1:
        with Locations((-68, 29)):
            Circle(ESQUISSE27_R)
    enl_v_mat_extru_15_tool1 = extrude(enl_v_mat_extru_15_sk1.sketch, amount=-ENL_V_MAT_EXTRU_15_REACH, mode=Mode.PRIVATE) & part.part
    # Esquisse27 → Enlèv. mat.-Extru.15 (cut, up to next)
    with BuildSketch(Plane(origin=(0, 0, 1), x_dir=(-1, 0, 0), z_dir=(0, 0, -1)), mode=Mode.PRIVATE) as enl_v_mat_extru_15_sk2:
        with Locations((-8, 29)):
            Circle(ESQUISSE27_R)
    enl_v_mat_extru_15_tool2 = extrude(enl_v_mat_extru_15_sk2.sketch, amount=-ENL_V_MAT_EXTRU_15_REACH, mode=Mode.PRIVATE) & part.part
    add(enl_v_mat_extru_15_tool1.solids().sort_by_distance((68, 29, 1))[0], mode=Mode.SUBTRACT)
    add(enl_v_mat_extru_15_tool2.solids().sort_by_distance((8, 29, 1))[0], mode=Mode.SUBTRACT)

    # Esquisse28 → Boss.-Extru.12 (add)
    with BuildSketch(Plane(origin=(0, 0, 1), x_dir=(-1, 0, 0), z_dir=(0, 0, -1))):
        with Locations((-68, 29)):
            Circle(ESQUISSE28_R)
        with Locations((-8, 29)):
            Circle(ESQUISSE28_R)
    extrude(amount=BOSS_EXTRU_12_DEPTH)

    # Esquisse29 → Enlèv. mat.-Extru.16 (cut, up to next)
    with BuildSketch(Plane(origin=(0, 0, 0), x_dir=(-1, 0, 0), z_dir=(0, 0, -1)), mode=Mode.PRIVATE) as enl_v_mat_extru_16_sk1:
        with Locations((-68, 29)):
            Circle(ESQUISSE29_R)
    enl_v_mat_extru_16_tool1 = extrude(enl_v_mat_extru_16_sk1.sketch, amount=-ENL_V_MAT_EXTRU_16_REACH, mode=Mode.PRIVATE) & part.part
    # Esquisse29 → Enlèv. mat.-Extru.16 (cut, up to next)
    with BuildSketch(Plane(origin=(0, 0, 0), x_dir=(-1, 0, 0), z_dir=(0, 0, -1)), mode=Mode.PRIVATE) as enl_v_mat_extru_16_sk2:
        with Locations((-8, 29)):
            Circle(ESQUISSE29_R)
    enl_v_mat_extru_16_tool2 = extrude(enl_v_mat_extru_16_sk2.sketch, amount=-ENL_V_MAT_EXTRU_16_REACH, mode=Mode.PRIVATE) & part.part
    add(enl_v_mat_extru_16_tool1.solids().sort_by_distance((68, 29, 0))[0], mode=Mode.SUBTRACT)
    add(enl_v_mat_extru_16_tool2.solids().sort_by_distance((8, 29, 0))[0], mode=Mode.SUBTRACT)

    # Esquisse30 → Enlèv. mat.-Extru.17 (cut, up to next)
    with BuildSketch(Plane(origin=(0, 0, 1), x_dir=(-1, 0, 0), z_dir=(0, 0, -1)), mode=Mode.PRIVATE) as enl_v_mat_extru_17_sk1:
        with Locations((-68, 55.5)):
            Rectangle(ESQUISSE30_W, ESQUISSE30_H)
    enl_v_mat_extru_17_tool1 = extrude(enl_v_mat_extru_17_sk1.sketch, amount=-ENL_V_MAT_EXTRU_17_REACH, mode=Mode.PRIVATE) & part.part
    # Esquisse30 → Enlèv. mat.-Extru.17 (cut, up to next)
    with BuildSketch(Plane(origin=(0, 0, 1), x_dir=(-1, 0, 0), z_dir=(0, 0, -1)), mode=Mode.PRIVATE) as enl_v_mat_extru_17_sk2:
        with Locations((-8, 2.5)):
            Rectangle(ESQUISSE30_W, ESQUISSE30_H)
    enl_v_mat_extru_17_tool2 = extrude(enl_v_mat_extru_17_sk2.sketch, amount=-ENL_V_MAT_EXTRU_17_REACH, mode=Mode.PRIVATE) & part.part
    # Esquisse30 → Enlèv. mat.-Extru.17 (cut, up to next)
    with BuildSketch(Plane(origin=(0, 0, 1), x_dir=(-1, 0, 0), z_dir=(0, 0, -1)), mode=Mode.PRIVATE) as enl_v_mat_extru_17_sk3:
        with Locations((-23, 2.5)):
            Rectangle(ESQUISSE30_W, ESQUISSE30_H)
    enl_v_mat_extru_17_tool3 = extrude(enl_v_mat_extru_17_sk3.sketch, amount=-ENL_V_MAT_EXTRU_17_REACH, mode=Mode.PRIVATE) & part.part
    add(enl_v_mat_extru_17_tool1.solids().sort_by_distance((68, 55.5, 1))[0], mode=Mode.SUBTRACT)
    add(enl_v_mat_extru_17_tool2.solids().sort_by_distance((8, 2.5, 1))[0], mode=Mode.SUBTRACT)
    add(enl_v_mat_extru_17_tool3.solids().sort_by_distance((23, 2.5, 1))[0], mode=Mode.SUBTRACT)

    # Esquisse31 → Boss.-Extru.13 (add)
    with BuildSketch(Plane(origin=(0, 0, 1), x_dir=(-1, 0, 0), z_dir=(0, 0, -1))):
        Polygon((-21, 4), (-66, 54), (-64.654637595, 54), (-19.654637595, 4), align=None)
        Polygon((-22.345362405, 4), (-67.345362405, 54), (-68.690724809, 54), (-23.690724809, 4), align=None)
    extrude(amount=BOSS_EXTRU_13_DEPTH)

    # Esquisse32 → Enlèv. mat.-Extru.18 (cut, up to next)
    with BuildSketch(Plane.XZ, mode=Mode.PRIVATE) as enl_v_mat_extru_18_sk1:
        with Locations(Location((14, 4, 0), (0, 0, 270))):
            Circle(ESQUISSE32_R)
    enl_v_mat_extru_18_tool1 = extrude(enl_v_mat_extru_18_sk1.sketch, amount=-ENL_V_MAT_EXTRU_18_REACH, mode=Mode.PRIVATE) & part.part
    # Esquisse32 → Enlèv. mat.-Extru.18 (cut, up to next)
    with BuildSketch(Plane.XZ, mode=Mode.PRIVATE) as enl_v_mat_extru_18_sk2:
        with Locations(Location((18, 4, 0), (0, 0, 270))):
            Circle(ESQUISSE32_R)
    enl_v_mat_extru_18_tool2 = extrude(enl_v_mat_extru_18_sk2.sketch, amount=-ENL_V_MAT_EXTRU_18_REACH, mode=Mode.PRIVATE) & part.part
    add(enl_v_mat_extru_18_tool1.solids().sort_by_distance((14, 0, 4))[0], mode=Mode.SUBTRACT)
    add(enl_v_mat_extru_18_tool2.solids().sort_by_distance((18, 0, 4))[0], mode=Mode.SUBTRACT)

    # Esquisse33 → Enlèv. mat.-Extru.19 (cut)
    with BuildSketch(Plane(origin=(0, 58, 0), x_dir=(1, 0, 0), z_dir=(0, 1, 0))):
        with Locations(Location((68, -9, 0), (0, 0, 270))):
            Circle(ESQUISSE33_R)
        with Locations(Location((53, -9, 0), (0, 0, 270))):
            Circle(ESQUISSE33_R)
        with Locations(Location((23, -9, 0), (0, 0, 270))):
            Circle(ESQUISSE33_R)
    extrude(amount=-ENL_V_MAT_EXTRU_19_DEPTH, mode=Mode.SUBTRACT)

    # Esquisse34 → Enlèv. mat.-Extru.20 (cut)
    with BuildSketch(Plane.XZ.offset(ENL_V_START)):
        with Locations(Location((8, 9, 0), (0, 0, 270))):
            Circle(ESQUISSE34_R)
        with Locations(Location((38, 9, 0), (0, 0, 270))):
            Circle(ESQUISSE34_R)
        with Locations(Location((68, 9, 0), (0, 0, 90))):
            Circle(ESQUISSE34_R)
    extrude(amount=ENL_V_MAT_EXTRU_20_DEPTH, mode=Mode.SUBTRACT)

    # Esquisse35 → Enlèv. mat.-Extru.21 (cut, up to next)
    with BuildSketch(Plane.XZ.offset(-0.2), mode=Mode.PRIVATE) as enl_v_mat_extru_21_sk1:
        with Locations(Location((38, 9, 0), (0, 0, 270))):
            Circle(ESQUISSE35_R)
    enl_v_mat_extru_21_tool1 = extrude(enl_v_mat_extru_21_sk1.sketch, amount=-ENL_V_MAT_EXTRU_21_REACH, mode=Mode.PRIVATE) & part.part
    # Esquisse35 → Enlèv. mat.-Extru.21 (cut, up to next)
    with BuildSketch(Plane.XZ.offset(-0.2), mode=Mode.PRIVATE) as enl_v_mat_extru_21_sk2:
        with Locations(Location((68, 9, 0), (0, 0, 270))):
            Circle(ESQUISSE35_R)
    enl_v_mat_extru_21_tool2 = extrude(enl_v_mat_extru_21_sk2.sketch, amount=-ENL_V_MAT_EXTRU_21_REACH, mode=Mode.PRIVATE) & part.part
    # Esquisse35 → Enlèv. mat.-Extru.21 (cut, up to next)
    with BuildSketch(Plane.XZ.offset(-0.2), mode=Mode.PRIVATE) as enl_v_mat_extru_21_sk3:
        with Locations(Location((8, 9, 0), (0, 0, 270))):
            Circle(ESQUISSE35_R)
    enl_v_mat_extru_21_tool3 = extrude(enl_v_mat_extru_21_sk3.sketch, amount=-ENL_V_MAT_EXTRU_21_REACH, mode=Mode.PRIVATE) & part.part
    add(enl_v_mat_extru_21_tool1.solids().sort_by_distance((38, 0.2, 9))[0], mode=Mode.SUBTRACT)
    add(enl_v_mat_extru_21_tool2.solids().sort_by_distance((68, 0.2, 9))[0], mode=Mode.SUBTRACT)
    add(enl_v_mat_extru_21_tool3.solids().sort_by_distance((8, 0.2, 9))[0], mode=Mode.SUBTRACT)

    # Esquisse36 → Enlèv. mat.-Extru.22 (cut, up to next)
    with BuildSketch(Plane(origin=(0, 57.8, 0), x_dir=(1, 0, 0), z_dir=(0, 1, 0)), mode=Mode.PRIVATE) as enl_v_mat_extru_22_sk1:
        with Locations(Location((68, -9, 0), (0, 0, 90))):
            Circle(ESQUISSE36_R)
    enl_v_mat_extru_22_tool1 = extrude(enl_v_mat_extru_22_sk1.sketch, amount=-ENL_V_MAT_EXTRU_22_REACH, mode=Mode.PRIVATE) & part.part
    # Esquisse36 → Enlèv. mat.-Extru.22 (cut, up to next)
    with BuildSketch(Plane(origin=(0, 57.8, 0), x_dir=(1, 0, 0), z_dir=(0, 1, 0)), mode=Mode.PRIVATE) as enl_v_mat_extru_22_sk2:
        with Locations(Location((53, -9, 0), (0, 0, 270))):
            Circle(ESQUISSE36_R)
    enl_v_mat_extru_22_tool2 = extrude(enl_v_mat_extru_22_sk2.sketch, amount=-ENL_V_MAT_EXTRU_22_REACH, mode=Mode.PRIVATE) & part.part
    # Esquisse36 → Enlèv. mat.-Extru.22 (cut, up to next)
    with BuildSketch(Plane(origin=(0, 57.8, 0), x_dir=(1, 0, 0), z_dir=(0, 1, 0)), mode=Mode.PRIVATE) as enl_v_mat_extru_22_sk3:
        with Locations(Location((23, -9, 0), (0, 0, 270))):
            Circle(ESQUISSE36_R)
    enl_v_mat_extru_22_tool3 = extrude(enl_v_mat_extru_22_sk3.sketch, amount=-ENL_V_MAT_EXTRU_22_REACH, mode=Mode.PRIVATE) & part.part
    add(enl_v_mat_extru_22_tool1.solids().sort_by_distance((68, 57.8, 9))[0], mode=Mode.SUBTRACT)
    add(enl_v_mat_extru_22_tool2.solids().sort_by_distance((53, 57.8, 9))[0], mode=Mode.SUBTRACT)
    add(enl_v_mat_extru_22_tool3.solids().sort_by_distance((23, 57.8, 9))[0], mode=Mode.SUBTRACT)

    # Esquisse37 → Enlèv. mat.-Extru.23 (cut, up to next)
    with BuildSketch(Plane.XZ, mode=Mode.PRIVATE) as enl_v_mat_extru_23_sk1:
        with Locations((59, 9)):
            Rectangle(ESQUISSE37_W, ESQUISSE37_H)
    enl_v_mat_extru_23_tool1 = extrude(enl_v_mat_extru_23_sk1.sketch, amount=-ENL_V_MAT_EXTRU_23_REACH, mode=Mode.PRIVATE) & part.part
    # Esquisse37 → Enlèv. mat.-Extru.23 (cut, up to next)
    with BuildSketch(Plane.XZ, mode=Mode.PRIVATE) as enl_v_mat_extru_23_sk2:
        with Locations((29, 9)):
            Rectangle(ESQUISSE37_W, ESQUISSE37_H)
    enl_v_mat_extru_23_tool2 = extrude(enl_v_mat_extru_23_sk2.sketch, amount=-ENL_V_MAT_EXTRU_23_REACH, mode=Mode.PRIVATE) & part.part
    add(enl_v_mat_extru_23_tool1.solids().sort_by_distance((59, 0, 9))[0], mode=Mode.SUBTRACT)
    add(enl_v_mat_extru_23_tool2.solids().sort_by_distance((29, 0, 9))[0], mode=Mode.SUBTRACT)

    # Esquisse38 → Enlèv. mat.-Extru.24 (cut, up to next)
    with BuildSketch(Plane(origin=(0, 58, 0), x_dir=(1, 0, 0), z_dir=(0, 1, 0)), mode=Mode.PRIVATE) as enl_v_mat_extru_24_sk1:
        with Locations((44.25, -9.00324579)):
            Rectangle(ESQUISSE38_W, ESQUISSE38_H)
    enl_v_mat_extru_24_tool1 = extrude(enl_v_mat_extru_24_sk1.sketch, amount=-ENL_V_MAT_EXTRU_24_REACH, mode=Mode.PRIVATE) & part.part
    # Esquisse38 → Enlèv. mat.-Extru.24 (cut, up to next)
    with BuildSketch(Plane(origin=(0, 58, 0), x_dir=(1, 0, 0), z_dir=(0, 1, 0)), mode=Mode.PRIVATE) as enl_v_mat_extru_24_sk2:
        with Locations((14.25, -9.00324579)):
            Rectangle(ESQUISSE38_W, ESQUISSE38_H)
    enl_v_mat_extru_24_tool2 = extrude(enl_v_mat_extru_24_sk2.sketch, amount=-ENL_V_MAT_EXTRU_24_REACH, mode=Mode.PRIVATE) & part.part
    add(enl_v_mat_extru_24_tool1.solids().sort_by_distance((44.25, 58, 9.003246))[0], mode=Mode.SUBTRACT)
    add(enl_v_mat_extru_24_tool2.solids().sort_by_distance((14.25, 58, 9.003246))[0], mode=Mode.SUBTRACT)


solid = part.part
